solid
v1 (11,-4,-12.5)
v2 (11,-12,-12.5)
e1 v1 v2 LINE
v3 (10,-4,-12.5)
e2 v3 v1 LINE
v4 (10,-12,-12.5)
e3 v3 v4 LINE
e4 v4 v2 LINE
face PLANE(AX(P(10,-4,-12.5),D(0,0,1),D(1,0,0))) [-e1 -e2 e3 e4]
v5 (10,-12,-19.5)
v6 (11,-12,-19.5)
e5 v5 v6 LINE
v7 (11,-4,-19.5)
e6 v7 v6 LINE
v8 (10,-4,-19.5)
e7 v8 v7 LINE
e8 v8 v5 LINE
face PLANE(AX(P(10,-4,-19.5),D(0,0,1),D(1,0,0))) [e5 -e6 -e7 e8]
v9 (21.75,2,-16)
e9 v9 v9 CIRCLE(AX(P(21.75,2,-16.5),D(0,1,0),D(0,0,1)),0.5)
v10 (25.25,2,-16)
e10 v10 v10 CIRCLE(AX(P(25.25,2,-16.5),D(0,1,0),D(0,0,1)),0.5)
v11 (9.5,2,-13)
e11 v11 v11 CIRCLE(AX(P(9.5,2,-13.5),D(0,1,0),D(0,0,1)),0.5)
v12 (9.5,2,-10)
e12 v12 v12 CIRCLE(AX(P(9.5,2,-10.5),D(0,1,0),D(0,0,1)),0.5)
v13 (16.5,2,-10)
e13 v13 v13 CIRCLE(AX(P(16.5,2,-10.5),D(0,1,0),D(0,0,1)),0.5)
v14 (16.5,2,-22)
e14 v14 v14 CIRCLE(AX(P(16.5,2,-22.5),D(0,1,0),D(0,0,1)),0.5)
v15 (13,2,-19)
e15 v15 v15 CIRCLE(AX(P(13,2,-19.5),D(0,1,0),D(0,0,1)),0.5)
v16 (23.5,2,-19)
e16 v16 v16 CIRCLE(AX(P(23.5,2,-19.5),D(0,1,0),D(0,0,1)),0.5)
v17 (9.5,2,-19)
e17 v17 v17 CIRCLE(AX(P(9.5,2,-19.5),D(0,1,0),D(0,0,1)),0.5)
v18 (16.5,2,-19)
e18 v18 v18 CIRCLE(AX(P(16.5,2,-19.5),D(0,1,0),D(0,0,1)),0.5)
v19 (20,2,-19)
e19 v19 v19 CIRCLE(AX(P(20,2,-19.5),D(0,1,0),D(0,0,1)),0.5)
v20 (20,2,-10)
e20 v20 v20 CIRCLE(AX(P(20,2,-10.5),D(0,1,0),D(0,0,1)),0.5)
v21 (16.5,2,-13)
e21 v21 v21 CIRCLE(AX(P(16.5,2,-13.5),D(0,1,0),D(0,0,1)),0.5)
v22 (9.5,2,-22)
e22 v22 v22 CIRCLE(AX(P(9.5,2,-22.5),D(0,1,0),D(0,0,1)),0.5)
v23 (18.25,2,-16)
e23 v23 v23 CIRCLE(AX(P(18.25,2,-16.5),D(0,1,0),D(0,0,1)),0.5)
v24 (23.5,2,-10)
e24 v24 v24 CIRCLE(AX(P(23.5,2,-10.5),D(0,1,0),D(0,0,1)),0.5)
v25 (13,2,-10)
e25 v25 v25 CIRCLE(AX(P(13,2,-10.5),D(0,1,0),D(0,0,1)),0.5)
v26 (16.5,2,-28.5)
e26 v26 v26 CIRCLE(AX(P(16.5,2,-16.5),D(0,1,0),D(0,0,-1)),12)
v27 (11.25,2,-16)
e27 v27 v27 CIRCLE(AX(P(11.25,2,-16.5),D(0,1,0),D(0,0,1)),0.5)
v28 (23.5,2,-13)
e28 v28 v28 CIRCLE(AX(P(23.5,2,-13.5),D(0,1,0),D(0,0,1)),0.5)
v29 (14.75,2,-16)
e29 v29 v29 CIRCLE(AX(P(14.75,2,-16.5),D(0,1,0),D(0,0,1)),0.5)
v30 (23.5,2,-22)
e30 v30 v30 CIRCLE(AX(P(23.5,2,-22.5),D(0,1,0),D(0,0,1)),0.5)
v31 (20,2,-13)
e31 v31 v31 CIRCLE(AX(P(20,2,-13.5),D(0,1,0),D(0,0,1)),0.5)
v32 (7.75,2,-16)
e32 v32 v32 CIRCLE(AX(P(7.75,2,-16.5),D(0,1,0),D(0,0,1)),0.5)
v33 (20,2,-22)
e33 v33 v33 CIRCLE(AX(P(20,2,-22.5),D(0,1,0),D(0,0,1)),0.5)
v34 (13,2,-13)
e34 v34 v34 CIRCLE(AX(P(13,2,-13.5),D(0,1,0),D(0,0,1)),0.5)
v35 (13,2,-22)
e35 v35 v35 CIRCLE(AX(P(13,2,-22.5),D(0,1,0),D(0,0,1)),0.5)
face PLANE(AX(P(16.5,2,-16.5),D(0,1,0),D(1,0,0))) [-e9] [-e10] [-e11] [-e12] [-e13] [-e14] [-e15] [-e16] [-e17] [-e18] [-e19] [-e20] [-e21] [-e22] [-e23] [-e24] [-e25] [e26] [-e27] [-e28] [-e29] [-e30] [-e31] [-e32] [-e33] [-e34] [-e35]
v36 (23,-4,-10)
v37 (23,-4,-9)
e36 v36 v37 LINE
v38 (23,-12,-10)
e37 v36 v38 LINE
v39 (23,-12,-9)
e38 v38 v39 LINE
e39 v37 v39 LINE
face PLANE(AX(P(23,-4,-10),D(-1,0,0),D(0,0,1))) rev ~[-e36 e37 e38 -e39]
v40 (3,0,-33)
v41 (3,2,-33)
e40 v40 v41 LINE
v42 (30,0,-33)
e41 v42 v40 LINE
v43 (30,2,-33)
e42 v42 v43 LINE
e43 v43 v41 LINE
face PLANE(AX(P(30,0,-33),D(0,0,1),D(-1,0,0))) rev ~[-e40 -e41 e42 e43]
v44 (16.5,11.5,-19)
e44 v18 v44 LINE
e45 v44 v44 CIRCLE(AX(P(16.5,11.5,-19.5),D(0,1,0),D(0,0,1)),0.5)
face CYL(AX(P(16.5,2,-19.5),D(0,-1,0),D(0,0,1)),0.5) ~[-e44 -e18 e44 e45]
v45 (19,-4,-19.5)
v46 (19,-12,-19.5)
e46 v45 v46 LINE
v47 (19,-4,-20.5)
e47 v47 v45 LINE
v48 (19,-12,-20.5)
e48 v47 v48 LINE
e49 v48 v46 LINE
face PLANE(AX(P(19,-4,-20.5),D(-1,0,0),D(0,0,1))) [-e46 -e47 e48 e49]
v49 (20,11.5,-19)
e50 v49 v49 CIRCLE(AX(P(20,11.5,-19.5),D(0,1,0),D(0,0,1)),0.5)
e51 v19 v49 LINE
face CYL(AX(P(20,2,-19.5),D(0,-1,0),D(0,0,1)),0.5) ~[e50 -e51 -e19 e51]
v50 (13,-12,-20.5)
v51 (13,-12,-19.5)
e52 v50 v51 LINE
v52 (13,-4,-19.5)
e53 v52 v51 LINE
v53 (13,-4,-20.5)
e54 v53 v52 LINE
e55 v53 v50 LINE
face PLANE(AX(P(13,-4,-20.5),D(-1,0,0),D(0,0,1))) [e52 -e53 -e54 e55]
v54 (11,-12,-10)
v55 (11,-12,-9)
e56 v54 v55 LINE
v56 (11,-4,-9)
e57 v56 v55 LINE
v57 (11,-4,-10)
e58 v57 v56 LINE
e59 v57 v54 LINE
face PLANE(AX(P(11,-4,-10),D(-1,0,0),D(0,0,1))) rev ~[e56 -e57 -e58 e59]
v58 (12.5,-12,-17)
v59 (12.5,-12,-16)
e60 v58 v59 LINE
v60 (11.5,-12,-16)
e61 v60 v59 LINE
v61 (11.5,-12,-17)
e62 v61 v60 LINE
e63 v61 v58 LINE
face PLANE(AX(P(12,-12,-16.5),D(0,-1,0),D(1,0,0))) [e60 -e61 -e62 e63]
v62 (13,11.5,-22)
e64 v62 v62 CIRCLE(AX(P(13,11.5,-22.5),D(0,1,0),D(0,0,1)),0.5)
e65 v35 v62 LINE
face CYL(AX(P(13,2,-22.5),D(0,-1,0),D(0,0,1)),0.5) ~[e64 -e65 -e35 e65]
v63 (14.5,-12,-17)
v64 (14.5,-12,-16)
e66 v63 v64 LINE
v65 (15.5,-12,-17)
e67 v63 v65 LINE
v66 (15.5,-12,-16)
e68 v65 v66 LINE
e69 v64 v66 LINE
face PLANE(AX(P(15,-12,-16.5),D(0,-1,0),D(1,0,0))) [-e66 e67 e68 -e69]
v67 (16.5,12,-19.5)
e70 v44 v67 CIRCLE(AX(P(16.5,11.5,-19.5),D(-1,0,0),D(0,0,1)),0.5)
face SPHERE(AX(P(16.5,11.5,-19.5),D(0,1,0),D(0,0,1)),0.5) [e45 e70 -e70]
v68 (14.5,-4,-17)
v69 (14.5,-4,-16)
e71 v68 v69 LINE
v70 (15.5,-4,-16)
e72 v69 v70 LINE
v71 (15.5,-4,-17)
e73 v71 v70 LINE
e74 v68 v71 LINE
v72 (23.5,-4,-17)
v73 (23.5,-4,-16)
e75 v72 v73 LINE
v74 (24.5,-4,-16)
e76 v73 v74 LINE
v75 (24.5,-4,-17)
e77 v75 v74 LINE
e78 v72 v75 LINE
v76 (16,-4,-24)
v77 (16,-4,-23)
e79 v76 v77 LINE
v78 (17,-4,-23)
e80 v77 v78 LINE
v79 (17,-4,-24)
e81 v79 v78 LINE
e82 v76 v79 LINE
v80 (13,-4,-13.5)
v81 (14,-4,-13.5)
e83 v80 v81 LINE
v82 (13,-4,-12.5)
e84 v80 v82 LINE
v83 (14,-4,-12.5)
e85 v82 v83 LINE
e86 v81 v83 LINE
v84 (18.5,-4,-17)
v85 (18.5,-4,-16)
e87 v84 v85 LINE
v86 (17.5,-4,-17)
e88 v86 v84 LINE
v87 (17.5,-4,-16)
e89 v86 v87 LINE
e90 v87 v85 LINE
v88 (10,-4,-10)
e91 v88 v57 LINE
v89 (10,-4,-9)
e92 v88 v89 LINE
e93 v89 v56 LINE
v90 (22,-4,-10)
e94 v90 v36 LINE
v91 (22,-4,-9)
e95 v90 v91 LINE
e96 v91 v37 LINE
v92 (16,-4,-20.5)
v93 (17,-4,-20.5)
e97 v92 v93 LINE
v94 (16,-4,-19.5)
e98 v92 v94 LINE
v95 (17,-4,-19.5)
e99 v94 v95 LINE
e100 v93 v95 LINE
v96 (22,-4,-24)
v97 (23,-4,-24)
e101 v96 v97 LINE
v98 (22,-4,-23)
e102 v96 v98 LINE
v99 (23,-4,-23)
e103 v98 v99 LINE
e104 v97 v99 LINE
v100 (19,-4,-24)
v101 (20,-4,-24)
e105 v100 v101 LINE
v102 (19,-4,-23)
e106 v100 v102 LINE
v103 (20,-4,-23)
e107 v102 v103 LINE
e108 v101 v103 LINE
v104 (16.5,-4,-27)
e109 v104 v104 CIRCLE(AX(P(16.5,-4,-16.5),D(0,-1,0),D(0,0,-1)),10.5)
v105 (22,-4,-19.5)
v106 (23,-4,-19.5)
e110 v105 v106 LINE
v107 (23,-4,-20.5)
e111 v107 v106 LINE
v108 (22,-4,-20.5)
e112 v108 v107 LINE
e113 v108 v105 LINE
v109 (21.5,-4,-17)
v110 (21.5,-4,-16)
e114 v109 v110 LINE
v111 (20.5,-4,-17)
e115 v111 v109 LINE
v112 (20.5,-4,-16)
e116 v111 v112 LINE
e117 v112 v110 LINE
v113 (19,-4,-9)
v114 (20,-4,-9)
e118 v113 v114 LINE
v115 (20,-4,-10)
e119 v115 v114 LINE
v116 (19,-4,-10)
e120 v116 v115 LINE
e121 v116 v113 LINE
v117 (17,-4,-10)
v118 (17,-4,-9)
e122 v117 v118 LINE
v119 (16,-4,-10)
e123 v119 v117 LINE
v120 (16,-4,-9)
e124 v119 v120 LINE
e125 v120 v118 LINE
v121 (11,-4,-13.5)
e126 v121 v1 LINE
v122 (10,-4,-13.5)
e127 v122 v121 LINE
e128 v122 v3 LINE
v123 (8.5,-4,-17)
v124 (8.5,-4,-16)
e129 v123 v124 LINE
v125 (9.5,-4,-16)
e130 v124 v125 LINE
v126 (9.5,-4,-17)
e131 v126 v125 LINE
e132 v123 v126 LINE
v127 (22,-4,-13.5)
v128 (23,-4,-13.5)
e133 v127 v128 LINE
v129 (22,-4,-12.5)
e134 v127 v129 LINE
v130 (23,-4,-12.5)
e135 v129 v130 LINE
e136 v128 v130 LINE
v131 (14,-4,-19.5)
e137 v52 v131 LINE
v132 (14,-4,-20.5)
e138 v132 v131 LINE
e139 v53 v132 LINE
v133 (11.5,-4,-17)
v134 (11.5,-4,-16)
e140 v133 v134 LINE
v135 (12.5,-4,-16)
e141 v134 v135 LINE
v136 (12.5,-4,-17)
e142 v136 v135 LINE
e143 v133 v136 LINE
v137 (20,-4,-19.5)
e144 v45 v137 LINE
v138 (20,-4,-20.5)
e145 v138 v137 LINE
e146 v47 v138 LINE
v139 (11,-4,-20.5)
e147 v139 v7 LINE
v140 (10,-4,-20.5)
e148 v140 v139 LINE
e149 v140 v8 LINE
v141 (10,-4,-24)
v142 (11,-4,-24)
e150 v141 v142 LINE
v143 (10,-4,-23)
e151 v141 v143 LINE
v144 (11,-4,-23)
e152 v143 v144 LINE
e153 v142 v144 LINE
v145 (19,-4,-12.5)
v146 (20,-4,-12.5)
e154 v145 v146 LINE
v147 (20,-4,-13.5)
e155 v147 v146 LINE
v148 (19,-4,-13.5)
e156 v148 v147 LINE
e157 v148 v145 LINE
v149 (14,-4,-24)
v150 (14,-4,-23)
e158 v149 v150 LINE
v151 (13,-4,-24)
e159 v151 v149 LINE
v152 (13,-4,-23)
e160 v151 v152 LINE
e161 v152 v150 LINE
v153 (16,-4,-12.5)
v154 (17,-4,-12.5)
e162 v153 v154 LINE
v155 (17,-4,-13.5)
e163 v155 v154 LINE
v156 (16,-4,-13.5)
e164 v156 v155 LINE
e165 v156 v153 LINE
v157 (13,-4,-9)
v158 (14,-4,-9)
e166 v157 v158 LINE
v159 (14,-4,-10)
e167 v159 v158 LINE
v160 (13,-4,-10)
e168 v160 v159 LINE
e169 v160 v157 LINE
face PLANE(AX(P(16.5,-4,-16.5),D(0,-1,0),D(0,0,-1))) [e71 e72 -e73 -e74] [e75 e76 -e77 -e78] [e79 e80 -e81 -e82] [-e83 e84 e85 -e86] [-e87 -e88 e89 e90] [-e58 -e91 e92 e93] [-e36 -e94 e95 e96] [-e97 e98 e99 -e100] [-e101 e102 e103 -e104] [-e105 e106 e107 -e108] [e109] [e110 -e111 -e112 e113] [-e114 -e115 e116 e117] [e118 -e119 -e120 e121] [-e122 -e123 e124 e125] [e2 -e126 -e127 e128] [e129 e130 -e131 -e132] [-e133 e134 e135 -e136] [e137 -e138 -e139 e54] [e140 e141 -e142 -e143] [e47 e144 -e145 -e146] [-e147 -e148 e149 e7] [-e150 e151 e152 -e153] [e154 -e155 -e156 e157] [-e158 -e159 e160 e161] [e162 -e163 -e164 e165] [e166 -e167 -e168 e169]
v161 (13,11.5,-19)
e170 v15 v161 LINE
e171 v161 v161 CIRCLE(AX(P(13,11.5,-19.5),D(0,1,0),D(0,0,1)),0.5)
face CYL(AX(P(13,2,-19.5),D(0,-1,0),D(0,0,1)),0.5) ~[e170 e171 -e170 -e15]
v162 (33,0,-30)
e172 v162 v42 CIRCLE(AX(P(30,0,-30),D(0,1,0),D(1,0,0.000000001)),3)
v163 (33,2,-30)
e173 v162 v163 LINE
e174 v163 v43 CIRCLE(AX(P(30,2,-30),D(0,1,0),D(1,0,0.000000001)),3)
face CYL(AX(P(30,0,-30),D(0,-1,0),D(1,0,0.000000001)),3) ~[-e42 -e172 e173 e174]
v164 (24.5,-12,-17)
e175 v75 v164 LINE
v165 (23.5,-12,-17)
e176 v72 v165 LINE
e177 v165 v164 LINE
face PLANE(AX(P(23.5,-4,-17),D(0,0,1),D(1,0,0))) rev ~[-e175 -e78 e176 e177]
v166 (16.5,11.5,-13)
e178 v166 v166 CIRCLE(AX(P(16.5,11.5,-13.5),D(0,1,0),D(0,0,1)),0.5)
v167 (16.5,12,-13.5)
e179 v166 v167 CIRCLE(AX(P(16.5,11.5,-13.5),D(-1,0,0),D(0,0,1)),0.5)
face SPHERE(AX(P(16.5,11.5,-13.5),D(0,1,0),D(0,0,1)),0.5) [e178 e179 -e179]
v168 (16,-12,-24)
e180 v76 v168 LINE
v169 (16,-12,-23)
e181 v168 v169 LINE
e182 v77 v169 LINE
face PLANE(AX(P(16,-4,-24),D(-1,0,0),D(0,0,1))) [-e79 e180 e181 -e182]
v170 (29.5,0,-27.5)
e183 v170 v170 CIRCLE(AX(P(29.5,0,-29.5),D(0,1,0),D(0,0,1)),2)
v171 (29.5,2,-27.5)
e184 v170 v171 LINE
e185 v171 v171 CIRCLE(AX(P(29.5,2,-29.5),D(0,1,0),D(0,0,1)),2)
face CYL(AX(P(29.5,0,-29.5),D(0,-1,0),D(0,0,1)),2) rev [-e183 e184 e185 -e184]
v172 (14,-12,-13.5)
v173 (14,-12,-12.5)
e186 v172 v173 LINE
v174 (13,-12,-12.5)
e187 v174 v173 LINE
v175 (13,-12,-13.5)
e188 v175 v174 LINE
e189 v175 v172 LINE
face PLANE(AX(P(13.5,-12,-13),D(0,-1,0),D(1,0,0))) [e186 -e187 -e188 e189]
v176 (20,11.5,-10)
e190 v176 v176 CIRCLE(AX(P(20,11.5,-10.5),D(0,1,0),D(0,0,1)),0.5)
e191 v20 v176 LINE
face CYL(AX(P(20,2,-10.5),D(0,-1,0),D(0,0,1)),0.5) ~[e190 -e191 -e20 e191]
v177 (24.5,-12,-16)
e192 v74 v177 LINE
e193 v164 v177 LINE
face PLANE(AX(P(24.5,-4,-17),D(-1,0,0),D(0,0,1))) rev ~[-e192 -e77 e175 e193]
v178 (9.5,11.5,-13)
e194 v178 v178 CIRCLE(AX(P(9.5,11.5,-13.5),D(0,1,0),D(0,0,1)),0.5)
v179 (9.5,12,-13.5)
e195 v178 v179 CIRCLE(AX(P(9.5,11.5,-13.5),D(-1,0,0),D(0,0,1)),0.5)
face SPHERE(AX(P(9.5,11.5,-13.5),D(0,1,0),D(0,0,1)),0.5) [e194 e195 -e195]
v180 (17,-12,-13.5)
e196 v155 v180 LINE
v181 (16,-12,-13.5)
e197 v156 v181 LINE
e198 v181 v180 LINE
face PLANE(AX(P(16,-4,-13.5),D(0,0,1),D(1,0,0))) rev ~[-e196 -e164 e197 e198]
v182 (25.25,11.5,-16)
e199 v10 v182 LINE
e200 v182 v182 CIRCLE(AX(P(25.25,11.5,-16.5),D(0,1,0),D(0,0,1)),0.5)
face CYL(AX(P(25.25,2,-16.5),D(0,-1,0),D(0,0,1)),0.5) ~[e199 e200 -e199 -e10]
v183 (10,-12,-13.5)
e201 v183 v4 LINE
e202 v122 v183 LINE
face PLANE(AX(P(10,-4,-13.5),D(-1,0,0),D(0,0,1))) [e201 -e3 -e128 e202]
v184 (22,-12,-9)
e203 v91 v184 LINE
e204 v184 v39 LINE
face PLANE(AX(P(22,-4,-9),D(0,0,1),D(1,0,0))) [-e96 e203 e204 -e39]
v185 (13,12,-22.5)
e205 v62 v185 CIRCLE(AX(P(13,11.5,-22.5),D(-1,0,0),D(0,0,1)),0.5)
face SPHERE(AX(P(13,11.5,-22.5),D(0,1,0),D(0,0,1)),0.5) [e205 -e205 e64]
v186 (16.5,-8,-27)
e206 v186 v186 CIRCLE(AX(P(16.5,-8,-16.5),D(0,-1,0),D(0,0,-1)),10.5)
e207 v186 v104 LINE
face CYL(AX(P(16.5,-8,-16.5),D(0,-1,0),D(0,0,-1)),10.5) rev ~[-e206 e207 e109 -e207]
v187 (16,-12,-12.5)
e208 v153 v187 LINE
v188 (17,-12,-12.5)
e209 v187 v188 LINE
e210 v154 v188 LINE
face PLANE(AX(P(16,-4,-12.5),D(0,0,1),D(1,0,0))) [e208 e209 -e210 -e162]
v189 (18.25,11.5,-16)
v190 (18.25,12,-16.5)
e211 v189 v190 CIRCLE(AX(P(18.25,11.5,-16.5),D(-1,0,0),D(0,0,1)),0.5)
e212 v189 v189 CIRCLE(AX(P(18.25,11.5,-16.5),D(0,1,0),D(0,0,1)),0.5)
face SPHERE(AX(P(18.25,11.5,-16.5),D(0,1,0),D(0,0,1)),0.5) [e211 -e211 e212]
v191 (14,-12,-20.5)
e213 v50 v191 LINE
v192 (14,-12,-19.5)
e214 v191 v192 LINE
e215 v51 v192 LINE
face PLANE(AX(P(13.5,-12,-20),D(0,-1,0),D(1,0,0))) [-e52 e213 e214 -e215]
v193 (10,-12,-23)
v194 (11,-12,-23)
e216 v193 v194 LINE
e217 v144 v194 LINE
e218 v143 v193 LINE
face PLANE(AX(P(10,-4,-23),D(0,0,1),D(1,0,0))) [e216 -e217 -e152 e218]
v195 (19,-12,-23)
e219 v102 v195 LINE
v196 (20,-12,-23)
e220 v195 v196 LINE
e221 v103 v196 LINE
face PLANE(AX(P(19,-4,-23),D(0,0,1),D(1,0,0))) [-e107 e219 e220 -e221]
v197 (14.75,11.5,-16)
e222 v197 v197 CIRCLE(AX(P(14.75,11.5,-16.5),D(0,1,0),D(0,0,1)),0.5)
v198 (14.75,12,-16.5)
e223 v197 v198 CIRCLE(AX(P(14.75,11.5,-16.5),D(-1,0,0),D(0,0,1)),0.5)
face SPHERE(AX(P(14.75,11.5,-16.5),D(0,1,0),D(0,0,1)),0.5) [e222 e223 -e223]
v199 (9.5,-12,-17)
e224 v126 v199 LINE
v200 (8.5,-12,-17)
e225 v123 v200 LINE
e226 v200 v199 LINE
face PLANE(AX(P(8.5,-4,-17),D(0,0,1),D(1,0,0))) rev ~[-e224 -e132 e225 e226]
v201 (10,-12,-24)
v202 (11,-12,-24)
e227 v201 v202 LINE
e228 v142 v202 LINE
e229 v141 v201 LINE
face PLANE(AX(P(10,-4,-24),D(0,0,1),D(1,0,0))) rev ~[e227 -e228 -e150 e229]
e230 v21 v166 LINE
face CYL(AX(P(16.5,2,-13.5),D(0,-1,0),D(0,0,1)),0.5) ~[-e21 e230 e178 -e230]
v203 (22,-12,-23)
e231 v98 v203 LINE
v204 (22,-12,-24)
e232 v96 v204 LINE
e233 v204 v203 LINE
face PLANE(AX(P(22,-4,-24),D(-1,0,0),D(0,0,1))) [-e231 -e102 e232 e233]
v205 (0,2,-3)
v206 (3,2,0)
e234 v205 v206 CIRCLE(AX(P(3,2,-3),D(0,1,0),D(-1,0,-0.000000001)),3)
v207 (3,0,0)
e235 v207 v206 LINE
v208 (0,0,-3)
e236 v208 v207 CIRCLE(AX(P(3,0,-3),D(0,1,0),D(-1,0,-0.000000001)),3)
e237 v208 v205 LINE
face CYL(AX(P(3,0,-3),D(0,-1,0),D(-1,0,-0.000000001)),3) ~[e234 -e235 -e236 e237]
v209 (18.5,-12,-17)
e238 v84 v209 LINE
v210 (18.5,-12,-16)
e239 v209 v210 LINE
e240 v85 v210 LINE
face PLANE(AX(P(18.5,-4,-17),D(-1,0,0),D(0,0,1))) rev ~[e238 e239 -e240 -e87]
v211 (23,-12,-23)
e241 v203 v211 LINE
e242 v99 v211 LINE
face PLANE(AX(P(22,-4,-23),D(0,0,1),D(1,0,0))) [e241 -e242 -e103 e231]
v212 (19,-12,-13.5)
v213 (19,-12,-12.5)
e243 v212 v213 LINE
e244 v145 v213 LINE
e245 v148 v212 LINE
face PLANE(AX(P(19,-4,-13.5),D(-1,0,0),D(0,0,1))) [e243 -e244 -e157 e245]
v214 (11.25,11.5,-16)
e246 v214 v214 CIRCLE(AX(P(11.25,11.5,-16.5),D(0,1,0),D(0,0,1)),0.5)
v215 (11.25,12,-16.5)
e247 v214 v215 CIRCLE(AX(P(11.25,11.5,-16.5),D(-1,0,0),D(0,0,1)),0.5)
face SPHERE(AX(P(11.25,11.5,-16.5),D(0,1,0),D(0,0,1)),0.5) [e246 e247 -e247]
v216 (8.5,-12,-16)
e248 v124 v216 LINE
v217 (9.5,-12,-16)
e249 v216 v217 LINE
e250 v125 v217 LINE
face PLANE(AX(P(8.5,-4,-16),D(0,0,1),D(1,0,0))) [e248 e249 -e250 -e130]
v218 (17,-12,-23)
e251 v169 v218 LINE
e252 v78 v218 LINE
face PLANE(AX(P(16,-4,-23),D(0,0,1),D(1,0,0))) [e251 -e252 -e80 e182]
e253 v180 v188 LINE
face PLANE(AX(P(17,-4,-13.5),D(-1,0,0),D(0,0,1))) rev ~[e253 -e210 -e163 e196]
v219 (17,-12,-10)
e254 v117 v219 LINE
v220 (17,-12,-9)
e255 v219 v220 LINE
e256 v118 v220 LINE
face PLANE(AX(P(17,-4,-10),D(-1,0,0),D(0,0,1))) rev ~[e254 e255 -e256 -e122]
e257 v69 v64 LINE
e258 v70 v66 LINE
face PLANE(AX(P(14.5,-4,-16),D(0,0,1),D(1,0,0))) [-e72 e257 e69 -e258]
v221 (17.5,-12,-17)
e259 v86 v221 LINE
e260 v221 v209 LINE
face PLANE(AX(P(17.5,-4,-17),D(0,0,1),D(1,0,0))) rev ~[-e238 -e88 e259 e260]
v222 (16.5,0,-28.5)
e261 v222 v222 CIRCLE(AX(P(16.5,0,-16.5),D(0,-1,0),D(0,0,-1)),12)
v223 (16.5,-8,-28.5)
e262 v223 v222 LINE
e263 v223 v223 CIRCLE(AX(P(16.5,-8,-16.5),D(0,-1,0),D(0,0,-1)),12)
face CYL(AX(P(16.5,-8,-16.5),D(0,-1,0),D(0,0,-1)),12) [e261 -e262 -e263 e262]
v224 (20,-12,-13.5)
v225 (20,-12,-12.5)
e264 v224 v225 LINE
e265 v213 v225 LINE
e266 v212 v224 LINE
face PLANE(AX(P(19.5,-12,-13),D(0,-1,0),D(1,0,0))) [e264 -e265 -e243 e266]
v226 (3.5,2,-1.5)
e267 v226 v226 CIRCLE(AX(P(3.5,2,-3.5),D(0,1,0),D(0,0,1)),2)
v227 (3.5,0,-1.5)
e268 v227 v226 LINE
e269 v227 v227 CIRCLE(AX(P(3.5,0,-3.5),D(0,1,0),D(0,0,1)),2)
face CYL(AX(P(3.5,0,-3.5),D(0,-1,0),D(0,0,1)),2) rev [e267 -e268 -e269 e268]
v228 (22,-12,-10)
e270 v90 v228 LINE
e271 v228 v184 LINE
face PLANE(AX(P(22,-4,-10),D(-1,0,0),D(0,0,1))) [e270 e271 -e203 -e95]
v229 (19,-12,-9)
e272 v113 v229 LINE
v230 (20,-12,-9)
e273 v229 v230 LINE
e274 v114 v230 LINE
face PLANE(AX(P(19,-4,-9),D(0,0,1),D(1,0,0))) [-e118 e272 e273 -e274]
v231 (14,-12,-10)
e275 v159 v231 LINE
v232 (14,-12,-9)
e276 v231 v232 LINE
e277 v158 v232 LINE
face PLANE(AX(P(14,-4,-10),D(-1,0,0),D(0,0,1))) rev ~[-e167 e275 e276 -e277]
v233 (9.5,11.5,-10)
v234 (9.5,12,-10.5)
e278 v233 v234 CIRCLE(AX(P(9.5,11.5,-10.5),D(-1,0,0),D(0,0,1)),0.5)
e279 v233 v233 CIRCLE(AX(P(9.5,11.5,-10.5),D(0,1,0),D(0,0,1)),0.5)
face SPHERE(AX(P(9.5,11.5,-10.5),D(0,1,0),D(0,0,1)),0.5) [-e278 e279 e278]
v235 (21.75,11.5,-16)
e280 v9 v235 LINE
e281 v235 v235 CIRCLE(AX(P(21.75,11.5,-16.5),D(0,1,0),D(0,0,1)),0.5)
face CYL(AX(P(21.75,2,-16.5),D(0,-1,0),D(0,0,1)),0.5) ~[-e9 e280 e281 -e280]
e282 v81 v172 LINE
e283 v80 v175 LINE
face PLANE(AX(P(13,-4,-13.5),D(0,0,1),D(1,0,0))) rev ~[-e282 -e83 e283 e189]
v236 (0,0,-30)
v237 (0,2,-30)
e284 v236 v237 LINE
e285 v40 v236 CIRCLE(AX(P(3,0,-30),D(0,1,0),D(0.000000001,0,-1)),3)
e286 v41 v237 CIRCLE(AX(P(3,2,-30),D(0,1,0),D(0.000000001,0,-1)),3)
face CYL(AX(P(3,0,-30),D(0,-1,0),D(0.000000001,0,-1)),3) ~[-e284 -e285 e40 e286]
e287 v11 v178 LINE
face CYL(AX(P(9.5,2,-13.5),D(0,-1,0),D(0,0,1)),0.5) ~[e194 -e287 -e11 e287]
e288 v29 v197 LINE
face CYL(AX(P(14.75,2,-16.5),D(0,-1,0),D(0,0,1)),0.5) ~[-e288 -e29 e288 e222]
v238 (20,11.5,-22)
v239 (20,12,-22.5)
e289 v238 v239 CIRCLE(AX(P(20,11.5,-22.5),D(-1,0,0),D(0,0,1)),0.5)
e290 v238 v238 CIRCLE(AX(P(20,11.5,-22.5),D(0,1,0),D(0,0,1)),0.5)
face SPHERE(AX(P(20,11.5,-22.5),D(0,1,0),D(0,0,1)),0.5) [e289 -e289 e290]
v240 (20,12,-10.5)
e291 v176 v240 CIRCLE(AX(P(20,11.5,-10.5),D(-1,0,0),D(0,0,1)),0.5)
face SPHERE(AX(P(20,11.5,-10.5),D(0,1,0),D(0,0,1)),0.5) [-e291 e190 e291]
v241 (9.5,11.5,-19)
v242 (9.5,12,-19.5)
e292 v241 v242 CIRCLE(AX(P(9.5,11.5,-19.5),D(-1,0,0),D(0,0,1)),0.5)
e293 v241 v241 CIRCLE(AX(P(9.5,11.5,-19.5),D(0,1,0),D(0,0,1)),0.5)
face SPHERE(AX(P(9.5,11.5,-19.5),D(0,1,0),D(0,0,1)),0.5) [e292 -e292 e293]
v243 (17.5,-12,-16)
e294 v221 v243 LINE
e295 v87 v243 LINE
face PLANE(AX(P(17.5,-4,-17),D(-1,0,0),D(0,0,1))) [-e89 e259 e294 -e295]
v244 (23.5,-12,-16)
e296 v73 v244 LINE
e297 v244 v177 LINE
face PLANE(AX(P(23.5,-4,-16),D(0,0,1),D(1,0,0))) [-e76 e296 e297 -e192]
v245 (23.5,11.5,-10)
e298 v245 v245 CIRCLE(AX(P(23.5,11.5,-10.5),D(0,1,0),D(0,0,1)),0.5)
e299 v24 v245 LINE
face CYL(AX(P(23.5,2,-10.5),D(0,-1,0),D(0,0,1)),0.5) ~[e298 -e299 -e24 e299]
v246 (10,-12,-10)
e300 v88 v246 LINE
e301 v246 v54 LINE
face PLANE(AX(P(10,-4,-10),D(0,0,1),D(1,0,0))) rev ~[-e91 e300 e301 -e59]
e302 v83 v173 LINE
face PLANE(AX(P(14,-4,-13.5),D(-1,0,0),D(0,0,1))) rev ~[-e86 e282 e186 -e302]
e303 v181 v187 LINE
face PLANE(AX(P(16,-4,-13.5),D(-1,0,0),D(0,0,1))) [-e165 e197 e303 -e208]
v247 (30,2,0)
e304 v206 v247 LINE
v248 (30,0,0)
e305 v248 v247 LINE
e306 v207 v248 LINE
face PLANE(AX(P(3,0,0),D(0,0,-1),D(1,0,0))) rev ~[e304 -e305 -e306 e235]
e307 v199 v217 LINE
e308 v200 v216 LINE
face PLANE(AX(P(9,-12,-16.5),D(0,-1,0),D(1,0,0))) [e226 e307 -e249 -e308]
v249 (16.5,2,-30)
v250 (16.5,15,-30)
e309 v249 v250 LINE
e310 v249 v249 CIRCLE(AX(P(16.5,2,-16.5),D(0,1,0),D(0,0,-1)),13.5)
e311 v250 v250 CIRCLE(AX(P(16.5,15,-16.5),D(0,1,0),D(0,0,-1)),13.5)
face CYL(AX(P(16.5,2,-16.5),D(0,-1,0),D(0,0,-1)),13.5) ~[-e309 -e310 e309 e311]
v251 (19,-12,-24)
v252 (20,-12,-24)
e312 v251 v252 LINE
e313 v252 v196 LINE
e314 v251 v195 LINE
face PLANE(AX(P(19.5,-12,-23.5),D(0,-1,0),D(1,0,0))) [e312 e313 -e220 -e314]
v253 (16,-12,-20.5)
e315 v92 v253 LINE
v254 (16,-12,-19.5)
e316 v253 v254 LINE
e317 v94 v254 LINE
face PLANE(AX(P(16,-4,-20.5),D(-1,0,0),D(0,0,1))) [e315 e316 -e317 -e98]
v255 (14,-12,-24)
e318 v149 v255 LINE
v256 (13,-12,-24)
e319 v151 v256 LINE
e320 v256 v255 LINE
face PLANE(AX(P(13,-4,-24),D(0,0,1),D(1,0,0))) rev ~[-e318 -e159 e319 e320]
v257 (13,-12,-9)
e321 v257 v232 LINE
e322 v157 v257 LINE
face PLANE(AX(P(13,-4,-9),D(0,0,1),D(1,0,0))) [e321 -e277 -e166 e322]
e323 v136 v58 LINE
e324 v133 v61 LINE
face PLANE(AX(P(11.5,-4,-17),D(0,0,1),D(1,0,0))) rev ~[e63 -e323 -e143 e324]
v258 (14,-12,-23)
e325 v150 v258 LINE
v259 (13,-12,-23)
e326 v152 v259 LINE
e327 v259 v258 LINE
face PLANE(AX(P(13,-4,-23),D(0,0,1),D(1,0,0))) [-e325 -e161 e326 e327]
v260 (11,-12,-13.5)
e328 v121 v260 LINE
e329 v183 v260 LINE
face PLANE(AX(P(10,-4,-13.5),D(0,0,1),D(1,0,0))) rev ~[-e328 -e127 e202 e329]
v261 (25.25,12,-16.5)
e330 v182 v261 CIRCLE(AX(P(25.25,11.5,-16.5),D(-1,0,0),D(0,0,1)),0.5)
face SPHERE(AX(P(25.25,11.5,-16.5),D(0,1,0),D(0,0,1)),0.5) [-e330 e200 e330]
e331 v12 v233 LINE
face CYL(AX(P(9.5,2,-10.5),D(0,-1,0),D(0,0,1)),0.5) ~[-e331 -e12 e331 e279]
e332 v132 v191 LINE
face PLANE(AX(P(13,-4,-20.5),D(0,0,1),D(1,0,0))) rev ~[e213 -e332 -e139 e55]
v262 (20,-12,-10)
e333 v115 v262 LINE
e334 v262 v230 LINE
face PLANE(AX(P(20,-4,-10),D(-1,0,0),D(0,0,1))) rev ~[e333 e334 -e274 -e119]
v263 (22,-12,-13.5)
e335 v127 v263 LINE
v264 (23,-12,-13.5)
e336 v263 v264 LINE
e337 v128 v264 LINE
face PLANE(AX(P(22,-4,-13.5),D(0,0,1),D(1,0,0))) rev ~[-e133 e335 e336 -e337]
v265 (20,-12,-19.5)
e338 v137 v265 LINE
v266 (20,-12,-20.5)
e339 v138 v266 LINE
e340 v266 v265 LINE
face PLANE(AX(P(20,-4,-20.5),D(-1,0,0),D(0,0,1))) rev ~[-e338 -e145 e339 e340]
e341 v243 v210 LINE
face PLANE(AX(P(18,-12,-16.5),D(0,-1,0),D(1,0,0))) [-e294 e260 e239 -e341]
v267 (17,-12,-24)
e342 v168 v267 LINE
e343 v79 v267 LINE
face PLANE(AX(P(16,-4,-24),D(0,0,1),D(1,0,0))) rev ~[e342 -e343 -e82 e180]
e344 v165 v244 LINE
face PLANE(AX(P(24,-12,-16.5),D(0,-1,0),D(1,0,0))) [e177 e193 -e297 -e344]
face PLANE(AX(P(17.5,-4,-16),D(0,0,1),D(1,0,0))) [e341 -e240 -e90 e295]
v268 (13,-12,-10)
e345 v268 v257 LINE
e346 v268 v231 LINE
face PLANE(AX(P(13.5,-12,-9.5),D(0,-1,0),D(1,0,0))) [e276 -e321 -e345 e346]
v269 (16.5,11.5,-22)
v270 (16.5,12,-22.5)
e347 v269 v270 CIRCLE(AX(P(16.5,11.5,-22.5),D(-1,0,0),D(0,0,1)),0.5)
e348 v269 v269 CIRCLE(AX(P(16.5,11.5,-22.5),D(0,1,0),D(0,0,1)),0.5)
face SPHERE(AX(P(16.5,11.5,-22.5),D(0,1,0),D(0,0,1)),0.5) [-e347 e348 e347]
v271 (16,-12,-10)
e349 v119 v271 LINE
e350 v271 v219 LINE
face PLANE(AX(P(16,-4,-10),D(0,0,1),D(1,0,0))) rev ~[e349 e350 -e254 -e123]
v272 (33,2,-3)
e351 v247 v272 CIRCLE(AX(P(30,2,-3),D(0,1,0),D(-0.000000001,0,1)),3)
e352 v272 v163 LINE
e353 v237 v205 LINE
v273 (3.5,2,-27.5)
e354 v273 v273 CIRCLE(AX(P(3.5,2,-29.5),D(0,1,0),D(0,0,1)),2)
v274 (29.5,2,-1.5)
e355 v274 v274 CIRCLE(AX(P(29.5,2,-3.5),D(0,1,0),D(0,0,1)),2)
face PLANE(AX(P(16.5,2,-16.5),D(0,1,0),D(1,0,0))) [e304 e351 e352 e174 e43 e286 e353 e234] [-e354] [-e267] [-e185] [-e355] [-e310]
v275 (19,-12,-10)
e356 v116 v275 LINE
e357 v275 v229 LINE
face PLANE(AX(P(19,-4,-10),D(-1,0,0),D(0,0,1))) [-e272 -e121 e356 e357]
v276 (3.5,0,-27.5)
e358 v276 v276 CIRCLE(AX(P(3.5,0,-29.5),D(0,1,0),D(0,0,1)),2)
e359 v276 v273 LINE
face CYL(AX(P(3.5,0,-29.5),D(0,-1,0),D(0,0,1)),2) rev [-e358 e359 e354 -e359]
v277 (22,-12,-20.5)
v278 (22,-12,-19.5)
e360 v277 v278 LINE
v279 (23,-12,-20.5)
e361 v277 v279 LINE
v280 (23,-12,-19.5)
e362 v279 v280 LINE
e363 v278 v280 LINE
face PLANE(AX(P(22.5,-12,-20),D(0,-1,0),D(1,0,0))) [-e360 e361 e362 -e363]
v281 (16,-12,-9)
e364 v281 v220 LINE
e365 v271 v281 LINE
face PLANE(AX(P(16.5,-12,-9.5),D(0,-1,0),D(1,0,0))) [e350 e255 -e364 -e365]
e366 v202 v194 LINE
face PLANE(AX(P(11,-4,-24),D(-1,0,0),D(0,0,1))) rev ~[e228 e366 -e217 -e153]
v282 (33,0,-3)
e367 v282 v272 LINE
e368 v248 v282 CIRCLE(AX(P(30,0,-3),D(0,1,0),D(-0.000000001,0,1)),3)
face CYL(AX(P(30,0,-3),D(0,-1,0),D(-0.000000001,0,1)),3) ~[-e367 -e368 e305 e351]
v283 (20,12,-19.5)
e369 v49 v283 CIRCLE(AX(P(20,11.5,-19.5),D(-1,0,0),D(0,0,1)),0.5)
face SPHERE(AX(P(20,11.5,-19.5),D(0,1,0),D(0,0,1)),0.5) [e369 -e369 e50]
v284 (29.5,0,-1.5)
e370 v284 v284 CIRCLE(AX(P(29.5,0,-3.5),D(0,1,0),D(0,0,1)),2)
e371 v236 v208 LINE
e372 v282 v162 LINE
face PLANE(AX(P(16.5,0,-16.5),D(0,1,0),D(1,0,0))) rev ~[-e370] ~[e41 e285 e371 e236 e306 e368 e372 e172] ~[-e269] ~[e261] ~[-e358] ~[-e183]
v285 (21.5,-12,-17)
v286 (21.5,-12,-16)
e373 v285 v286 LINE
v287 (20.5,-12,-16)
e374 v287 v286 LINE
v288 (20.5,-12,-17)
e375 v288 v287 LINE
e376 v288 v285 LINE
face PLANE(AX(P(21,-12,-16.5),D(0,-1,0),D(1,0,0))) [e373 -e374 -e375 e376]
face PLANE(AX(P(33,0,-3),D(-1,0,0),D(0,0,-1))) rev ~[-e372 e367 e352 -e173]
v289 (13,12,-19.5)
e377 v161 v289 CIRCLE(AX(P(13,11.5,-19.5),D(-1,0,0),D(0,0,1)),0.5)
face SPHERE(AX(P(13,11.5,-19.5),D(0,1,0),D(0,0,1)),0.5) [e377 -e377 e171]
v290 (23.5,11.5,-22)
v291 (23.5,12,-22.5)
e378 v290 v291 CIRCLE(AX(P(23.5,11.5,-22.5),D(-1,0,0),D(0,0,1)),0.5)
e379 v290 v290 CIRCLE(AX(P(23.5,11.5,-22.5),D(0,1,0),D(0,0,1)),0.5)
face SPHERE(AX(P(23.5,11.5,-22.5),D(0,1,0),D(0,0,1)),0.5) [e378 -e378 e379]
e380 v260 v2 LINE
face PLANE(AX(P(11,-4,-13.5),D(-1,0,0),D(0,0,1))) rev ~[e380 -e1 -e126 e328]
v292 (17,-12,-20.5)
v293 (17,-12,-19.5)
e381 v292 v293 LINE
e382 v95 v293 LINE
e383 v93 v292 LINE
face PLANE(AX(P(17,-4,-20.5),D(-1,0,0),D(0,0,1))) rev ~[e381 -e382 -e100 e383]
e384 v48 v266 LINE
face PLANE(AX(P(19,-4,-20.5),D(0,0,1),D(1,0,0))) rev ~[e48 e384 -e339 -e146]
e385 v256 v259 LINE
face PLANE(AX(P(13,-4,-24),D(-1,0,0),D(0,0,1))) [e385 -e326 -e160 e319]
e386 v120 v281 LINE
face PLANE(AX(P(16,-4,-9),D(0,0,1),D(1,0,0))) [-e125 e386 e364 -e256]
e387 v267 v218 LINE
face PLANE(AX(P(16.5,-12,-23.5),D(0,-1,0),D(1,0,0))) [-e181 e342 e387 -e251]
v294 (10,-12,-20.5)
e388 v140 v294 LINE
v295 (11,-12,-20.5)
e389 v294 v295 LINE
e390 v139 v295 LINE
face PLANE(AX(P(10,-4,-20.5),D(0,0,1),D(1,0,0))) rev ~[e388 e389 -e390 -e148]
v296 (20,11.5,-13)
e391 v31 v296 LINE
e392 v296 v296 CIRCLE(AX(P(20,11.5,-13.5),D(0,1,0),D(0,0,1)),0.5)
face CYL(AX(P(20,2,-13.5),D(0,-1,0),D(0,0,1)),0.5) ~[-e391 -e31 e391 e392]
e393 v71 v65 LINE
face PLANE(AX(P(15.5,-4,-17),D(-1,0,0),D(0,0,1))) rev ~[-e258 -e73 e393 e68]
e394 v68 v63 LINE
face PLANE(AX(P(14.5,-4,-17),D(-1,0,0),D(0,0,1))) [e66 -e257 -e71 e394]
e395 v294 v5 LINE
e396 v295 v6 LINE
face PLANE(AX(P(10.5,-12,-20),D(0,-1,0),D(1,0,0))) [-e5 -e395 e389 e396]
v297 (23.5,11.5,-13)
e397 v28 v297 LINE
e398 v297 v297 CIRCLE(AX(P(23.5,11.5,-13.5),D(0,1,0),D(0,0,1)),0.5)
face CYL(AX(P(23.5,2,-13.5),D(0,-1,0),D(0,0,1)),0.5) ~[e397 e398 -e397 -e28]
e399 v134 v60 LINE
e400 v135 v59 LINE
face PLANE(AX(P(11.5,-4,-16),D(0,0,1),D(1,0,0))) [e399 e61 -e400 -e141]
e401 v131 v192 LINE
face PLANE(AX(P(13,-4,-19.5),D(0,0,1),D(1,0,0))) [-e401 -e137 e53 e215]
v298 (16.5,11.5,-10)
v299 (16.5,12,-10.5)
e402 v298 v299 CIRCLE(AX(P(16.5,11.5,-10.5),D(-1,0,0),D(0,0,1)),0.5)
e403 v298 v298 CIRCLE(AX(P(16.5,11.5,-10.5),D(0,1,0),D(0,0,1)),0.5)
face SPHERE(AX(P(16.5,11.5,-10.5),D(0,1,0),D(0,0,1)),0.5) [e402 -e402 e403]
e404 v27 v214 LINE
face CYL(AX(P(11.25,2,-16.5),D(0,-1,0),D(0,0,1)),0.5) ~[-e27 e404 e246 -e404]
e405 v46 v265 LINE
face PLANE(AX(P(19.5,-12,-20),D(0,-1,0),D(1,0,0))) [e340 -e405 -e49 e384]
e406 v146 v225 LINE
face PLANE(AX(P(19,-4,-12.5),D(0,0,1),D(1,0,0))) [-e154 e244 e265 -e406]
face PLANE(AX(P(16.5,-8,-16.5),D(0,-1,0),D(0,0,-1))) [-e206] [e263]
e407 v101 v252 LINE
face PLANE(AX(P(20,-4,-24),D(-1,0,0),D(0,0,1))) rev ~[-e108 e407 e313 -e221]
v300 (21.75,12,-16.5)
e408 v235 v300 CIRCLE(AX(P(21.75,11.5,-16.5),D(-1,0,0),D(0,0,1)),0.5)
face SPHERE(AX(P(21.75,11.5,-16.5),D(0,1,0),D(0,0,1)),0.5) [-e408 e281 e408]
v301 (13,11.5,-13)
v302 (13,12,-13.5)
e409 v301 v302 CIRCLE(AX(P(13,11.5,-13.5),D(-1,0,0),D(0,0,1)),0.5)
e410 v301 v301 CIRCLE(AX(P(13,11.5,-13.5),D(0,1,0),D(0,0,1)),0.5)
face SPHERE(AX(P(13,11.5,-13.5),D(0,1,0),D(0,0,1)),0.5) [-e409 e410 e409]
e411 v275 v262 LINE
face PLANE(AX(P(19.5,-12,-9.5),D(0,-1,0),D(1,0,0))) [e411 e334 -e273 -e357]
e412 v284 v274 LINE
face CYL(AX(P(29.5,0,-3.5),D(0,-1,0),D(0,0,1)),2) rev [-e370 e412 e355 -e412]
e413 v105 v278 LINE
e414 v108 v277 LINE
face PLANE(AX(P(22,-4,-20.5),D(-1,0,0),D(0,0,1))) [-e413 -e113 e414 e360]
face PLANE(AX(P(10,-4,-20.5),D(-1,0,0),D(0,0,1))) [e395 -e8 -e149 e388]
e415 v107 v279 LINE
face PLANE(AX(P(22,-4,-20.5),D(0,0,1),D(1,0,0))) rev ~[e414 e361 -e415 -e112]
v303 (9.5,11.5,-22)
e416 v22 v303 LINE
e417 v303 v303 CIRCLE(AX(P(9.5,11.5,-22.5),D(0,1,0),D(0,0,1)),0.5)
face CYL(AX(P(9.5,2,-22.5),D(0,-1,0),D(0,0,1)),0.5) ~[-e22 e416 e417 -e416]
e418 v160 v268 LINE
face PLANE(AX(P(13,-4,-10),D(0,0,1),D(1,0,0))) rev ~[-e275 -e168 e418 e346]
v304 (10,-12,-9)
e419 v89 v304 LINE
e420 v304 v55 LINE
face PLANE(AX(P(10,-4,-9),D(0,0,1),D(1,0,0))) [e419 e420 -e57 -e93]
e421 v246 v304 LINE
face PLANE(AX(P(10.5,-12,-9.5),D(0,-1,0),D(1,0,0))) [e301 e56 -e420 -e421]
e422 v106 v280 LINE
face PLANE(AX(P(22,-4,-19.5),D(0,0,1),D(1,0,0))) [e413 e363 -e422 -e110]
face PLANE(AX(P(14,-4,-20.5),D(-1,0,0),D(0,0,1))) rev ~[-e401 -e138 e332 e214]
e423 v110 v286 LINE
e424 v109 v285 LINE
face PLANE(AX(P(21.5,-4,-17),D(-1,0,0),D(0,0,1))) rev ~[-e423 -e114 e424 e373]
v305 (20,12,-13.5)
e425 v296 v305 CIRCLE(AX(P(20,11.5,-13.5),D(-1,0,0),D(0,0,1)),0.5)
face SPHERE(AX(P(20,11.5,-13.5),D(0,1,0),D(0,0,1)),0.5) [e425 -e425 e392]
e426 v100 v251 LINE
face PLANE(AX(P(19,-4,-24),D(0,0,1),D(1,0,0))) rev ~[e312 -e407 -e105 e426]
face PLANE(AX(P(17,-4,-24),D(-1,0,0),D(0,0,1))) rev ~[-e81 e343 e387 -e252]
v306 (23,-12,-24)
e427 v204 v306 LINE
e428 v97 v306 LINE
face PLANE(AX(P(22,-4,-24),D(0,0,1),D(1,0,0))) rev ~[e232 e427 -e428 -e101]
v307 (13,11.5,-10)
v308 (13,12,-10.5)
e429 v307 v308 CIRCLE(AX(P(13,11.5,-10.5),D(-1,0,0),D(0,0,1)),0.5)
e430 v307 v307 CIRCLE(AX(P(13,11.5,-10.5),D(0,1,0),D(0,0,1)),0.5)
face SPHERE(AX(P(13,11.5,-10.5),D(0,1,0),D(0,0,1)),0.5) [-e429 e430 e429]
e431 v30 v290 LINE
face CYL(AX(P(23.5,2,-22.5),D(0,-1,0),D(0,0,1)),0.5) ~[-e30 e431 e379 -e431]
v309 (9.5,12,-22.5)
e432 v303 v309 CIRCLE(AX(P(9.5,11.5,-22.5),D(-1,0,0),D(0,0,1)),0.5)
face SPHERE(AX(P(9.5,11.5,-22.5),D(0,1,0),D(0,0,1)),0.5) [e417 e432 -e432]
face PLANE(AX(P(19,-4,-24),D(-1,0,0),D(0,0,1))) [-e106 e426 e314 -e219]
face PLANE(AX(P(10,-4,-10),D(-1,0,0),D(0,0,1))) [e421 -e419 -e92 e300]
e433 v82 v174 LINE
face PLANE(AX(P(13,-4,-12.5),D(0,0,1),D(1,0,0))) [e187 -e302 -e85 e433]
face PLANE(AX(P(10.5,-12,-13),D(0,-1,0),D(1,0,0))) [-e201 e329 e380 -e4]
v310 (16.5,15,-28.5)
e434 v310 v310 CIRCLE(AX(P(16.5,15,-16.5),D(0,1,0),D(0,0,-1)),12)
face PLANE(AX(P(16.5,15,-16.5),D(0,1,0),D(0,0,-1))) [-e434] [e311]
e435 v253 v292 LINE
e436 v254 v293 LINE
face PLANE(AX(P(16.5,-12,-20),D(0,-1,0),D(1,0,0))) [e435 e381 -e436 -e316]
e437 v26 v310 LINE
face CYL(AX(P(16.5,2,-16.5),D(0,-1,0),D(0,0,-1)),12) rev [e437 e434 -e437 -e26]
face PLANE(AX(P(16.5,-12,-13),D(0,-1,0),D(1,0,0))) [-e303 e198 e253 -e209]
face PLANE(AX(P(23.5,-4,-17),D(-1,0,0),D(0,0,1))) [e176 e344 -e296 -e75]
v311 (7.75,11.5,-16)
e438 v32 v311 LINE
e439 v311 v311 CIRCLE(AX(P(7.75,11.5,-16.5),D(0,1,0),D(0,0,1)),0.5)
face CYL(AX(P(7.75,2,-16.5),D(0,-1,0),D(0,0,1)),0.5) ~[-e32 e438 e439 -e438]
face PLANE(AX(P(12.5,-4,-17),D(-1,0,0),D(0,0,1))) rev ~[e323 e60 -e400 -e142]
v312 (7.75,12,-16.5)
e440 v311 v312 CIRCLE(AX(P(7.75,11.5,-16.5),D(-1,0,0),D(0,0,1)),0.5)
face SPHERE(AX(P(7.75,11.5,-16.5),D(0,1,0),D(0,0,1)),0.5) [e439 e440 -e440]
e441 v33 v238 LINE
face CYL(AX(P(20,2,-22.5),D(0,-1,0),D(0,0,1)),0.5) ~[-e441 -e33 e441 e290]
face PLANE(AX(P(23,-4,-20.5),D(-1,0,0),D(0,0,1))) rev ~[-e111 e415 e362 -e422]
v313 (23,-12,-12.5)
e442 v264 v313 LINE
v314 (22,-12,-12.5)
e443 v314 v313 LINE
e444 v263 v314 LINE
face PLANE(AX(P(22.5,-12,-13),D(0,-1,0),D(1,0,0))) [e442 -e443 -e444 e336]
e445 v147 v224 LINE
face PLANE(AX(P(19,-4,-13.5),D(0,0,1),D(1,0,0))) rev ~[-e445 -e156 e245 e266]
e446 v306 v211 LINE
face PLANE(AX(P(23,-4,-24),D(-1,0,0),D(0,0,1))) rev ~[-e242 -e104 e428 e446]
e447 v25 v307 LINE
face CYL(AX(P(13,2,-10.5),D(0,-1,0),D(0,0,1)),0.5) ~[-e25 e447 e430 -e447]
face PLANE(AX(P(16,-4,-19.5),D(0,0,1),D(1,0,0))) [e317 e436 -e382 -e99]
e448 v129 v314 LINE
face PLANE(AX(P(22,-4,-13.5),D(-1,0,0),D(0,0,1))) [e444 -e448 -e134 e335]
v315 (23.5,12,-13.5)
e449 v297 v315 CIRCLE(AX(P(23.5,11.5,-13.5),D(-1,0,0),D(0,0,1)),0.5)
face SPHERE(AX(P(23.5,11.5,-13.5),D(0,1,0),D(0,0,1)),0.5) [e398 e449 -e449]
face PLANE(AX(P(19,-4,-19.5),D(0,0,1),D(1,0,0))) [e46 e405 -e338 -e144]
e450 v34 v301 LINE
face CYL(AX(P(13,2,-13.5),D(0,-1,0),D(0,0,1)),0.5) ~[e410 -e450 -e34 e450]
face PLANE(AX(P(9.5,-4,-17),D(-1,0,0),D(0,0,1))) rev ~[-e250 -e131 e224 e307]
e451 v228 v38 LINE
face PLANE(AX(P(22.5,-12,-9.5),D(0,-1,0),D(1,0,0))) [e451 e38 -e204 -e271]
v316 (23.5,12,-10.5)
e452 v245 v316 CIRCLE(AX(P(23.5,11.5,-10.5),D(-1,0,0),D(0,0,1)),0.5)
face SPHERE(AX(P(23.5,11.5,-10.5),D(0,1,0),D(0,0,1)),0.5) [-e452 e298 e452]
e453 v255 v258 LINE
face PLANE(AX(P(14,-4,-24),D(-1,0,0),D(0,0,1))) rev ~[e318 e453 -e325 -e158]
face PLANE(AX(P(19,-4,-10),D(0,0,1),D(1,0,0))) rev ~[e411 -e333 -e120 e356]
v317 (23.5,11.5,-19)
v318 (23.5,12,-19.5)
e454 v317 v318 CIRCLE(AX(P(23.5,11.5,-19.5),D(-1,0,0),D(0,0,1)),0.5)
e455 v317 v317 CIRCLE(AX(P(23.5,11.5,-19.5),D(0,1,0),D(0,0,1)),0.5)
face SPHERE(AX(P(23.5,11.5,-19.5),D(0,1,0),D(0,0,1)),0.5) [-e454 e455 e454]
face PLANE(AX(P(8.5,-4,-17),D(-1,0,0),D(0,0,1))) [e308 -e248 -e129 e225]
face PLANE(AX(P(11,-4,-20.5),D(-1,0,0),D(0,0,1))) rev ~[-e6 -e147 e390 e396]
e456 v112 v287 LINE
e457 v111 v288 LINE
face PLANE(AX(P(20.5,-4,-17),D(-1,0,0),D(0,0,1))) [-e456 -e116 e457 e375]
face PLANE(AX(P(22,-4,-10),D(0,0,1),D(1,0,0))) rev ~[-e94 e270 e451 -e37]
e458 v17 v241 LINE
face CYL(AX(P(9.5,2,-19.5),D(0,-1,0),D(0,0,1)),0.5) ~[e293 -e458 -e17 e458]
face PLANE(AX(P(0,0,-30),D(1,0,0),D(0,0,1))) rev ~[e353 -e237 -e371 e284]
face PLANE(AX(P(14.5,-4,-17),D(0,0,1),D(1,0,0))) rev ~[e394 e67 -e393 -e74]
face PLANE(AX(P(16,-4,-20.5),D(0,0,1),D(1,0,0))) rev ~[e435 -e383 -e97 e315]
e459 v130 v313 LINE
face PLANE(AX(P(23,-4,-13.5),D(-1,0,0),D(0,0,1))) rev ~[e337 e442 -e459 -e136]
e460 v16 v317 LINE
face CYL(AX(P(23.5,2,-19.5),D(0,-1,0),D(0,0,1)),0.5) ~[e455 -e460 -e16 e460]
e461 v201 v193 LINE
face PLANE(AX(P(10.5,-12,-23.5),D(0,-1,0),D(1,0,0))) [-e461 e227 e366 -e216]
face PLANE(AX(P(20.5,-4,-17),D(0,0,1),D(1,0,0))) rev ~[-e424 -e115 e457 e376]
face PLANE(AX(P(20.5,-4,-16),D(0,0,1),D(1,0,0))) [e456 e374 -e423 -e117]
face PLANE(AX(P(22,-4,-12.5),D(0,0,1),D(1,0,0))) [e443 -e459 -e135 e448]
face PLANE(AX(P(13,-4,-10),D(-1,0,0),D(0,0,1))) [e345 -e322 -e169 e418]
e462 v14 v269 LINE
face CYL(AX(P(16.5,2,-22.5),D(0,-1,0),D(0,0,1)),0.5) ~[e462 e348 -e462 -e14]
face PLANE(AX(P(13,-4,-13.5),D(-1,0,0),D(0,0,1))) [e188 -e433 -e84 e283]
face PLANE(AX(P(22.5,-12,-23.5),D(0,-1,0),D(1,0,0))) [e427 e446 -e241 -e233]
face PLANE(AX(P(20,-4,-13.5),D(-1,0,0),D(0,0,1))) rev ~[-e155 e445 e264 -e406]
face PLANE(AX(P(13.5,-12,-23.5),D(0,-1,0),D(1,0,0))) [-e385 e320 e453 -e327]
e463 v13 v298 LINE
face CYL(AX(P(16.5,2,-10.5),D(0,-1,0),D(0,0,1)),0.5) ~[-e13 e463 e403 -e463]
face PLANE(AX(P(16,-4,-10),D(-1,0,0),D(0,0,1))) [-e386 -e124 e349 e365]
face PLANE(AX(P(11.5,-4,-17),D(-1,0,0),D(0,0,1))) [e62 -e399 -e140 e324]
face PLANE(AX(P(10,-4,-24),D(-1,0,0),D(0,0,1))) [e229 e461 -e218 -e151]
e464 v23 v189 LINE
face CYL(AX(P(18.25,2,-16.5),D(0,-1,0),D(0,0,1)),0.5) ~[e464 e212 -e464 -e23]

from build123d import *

# Parameters (mm, degrees)
SKETCH_1_R      = 2
EXTRUDE_1_DEPTH = 2
SKETCH_2_R      = 13.5
SKETCH_2_R_2    = 12
EXTRUDE_2_DEPTH = 13
SKETCH_3_R      = 0.5
EXTRUDE_3_DEPTH = 10
EXTRUDE_START   = 8
SKETCH_4_R      = 12
SKETCH_4_R_2    = 10.5
EXTRUDE_4_DEPTH = 8
EXTRUDE_START_2 = 4
SKETCH_5_R      = 10.5
EXTRUDE_5_DEPTH = 4
SKETCH_6_W      = 1
SKETCH_6_H      = 1
EXTRUDE_6_DEPTH = 8
FILLET_3_R      = 0.5


with BuildPart() as part:
    # Эскиз1 → Бобышка-Вытянуть1 (new body)
    with BuildSketch(Plane(origin=(0, 0, 0), x_dir=(1, 0, 0), z_dir=(0, 1, 0))):
        with BuildLine():
            Line((3, 0), (30, 0))
            ThreePointArc((30, 0), (32.121320344, 0.878679656), (33, 3))
            Line((33, 3), (33, 30))
            ThreePointArc((33, 30), (32.121320344, 32.121320344), (30, 33))
            Line((30, 33), (3, 33))
            ThreePointArc((3, 33), (0.878679656, 32.121320344), (0, 30))
            Line((0, 30), (0, 3))
            ThreePointArc((0, 3), (0.878679656, 0.878679656), (3, 0))
        make_face()
        with Locations(Location((3.5, 29.5, 0), (0, 0, 270))):
            Circle(SKETCH_1_R, mode=Mode.SUBTRACT)
        with Locations(Location((29.5, 29.5, 0), (0, 0, 270))):
            Circle(SKETCH_1_R, mode=Mode.SUBTRACT)
        with Locations(Location((3.5, 3.5, 0), (0, 0, 270))):
            Circle(SKETCH_1_R, mode=Mode.SUBTRACT)
        with Locations(Location((29.5, 3.5, 0), (0, 0, 270))):
            Circle(SKETCH_1_R, mode=Mode.SUBTRACT)
    extrude(amount=EXTRUDE_1_DEPTH)

    # Эскиз2 → Бобышка-Вытянуть2 (add)
    with BuildSketch(Plane(origin=(0, 2, 0), x_dir=(1, 0, 0), z_dir=(0, 1, 0))):
        with Locations(Location((16.5, 16.5, 0), (0, 0, 90))):
            Circle(SKETCH_2_R)
        with Locations(Location((16.5, 16.5, 0), (0, 0, 90))):
            Circle(SKETCH_2_R_2, mode=Mode.SUBTRACT)
    extrude(amount=EXTRUDE_2_DEPTH)

    # Эскиз3 → Бобышка-Вытянуть3 (add)
    with BuildSketch(Plane(origin=(0, 2, 0), x_dir=(1, 0, 0), z_dir=(0, 1, 0))):
        with Locations(Location((7.75, 16.5, 0), (0, 0, 270))):
            Circle(SKETCH_3_R)
        with Locations(Location((16.5, 19.5, 0), (0, 0, 270))):
            Circle(SKETCH_3_R)
        with Locations(Location((16.5, 22.5, 0), (0, 0, 270))):
            Circle(SKETCH_3_R)
        with Locations(Location((16.5, 13.5, 0), (0, 0, 270))):
            Circle(SKETCH_3_R)
        with Locations(Location((16.5, 10.5, 0), (0, 0, 270))):
            Circle(SKETCH_3_R)
        with Locations(Location((20, 10.5, 0), (0, 0, 270))):
            Circle(SKETCH_3_R)
        with Locations(Location((20, 13.5, 0), (0, 0, 270))):
            Circle(SKETCH_3_R)
        with Locations(Location((18.25, 16.5, 0), (0, 0, 270))):
            Circle(SKETCH_3_R)
        with Locations(Location((20, 19.5, 0), (0, 0, 270))):
            Circle(SKETCH_3_R)
        with Locations(Location((20, 22.5, 0), (0, 0, 270))):
            Circle(SKETCH_3_R)
        with Locations(Location((23.5, 10.5, 0), (0, 0, 270))):
            Circle(SKETCH_3_R)
        with Locations(Location((23.5, 13.5, 0), (0, 0, 270))):
            Circle(SKETCH_3_R)
        with Locations(Location((21.75, 16.5, 0), (0, 0, 270))):
            Circle(SKETCH_3_R)
        with Locations(Location((23.5, 19.5, 0), (0, 0, 270))):
            Circle(SKETCH_3_R)
        with Locations(Location((23.5, 22.5, 0), (0, 0, 270))):
            Circle(SKETCH_3_R)
        with Locations(Location((13, 10.5, 0), (0, 0, 270))):
            Circle(SKETCH_3_R)
        with Locations(Location((13, 13.5, 0), (0, 0, 270))):
            Circle(SKETCH_3_R)
        with Locations(Location((14.75, 16.5, 0), (0, 0, 270))):
            Circle(SKETCH_3_R)
        with Locations(Location((13, 19.5, 0), (0, 0, 270))):
            Circle(SKETCH_3_R)
        with Locations(Location((13, 22.5, 0), (0, 0, 270))):
            Circle(SKETCH_3_R)
        with Locations(Location((9.5, 10.5, 0), (0, 0, 270))):
            Circle(SKETCH_3_R)
        with Locations(Location((9.5, 13.5, 0), (0, 0, 270))):
            Circle(SKETCH_3_R)
        with Locations(Location((11.25, 16.5, 0), (0, 0, 270))):
            Circle(SKETCH_3_R)
        with Locations(Location((9.5, 19.5, 0), (0, 0, 270))):
            Circle(SKETCH_3_R)
        with Locations(Location((9.5, 22.5, 0), (0, 0, 270))):
            Circle(SKETCH_3_R)
        with Locations(Location((25.25, 16.5, 0), (0, 0, 270))):
            Circle(SKETCH_3_R)
    extrude(amount=EXTRUDE_3_DEPTH)

    # Эскиз4 → Бобышка-Вытянуть4 (add)
    with BuildSketch(Plane.XZ.offset(EXTRUDE_START)):
        with Locations(Location((16.5, -16.5, 0), (0, 0, 270))):
            Circle(SKETCH_4_R)
        with Locations(Location((16.5, -16.5, 0), (0, 0, 270))):
            Circle(SKETCH_4_R_2, mode=Mode.SUBTRACT)
    extrude(amount=-EXTRUDE_4_DEPTH)

    # Эскиз5 → Бобышка-Вытянуть5 (add)
    with BuildSketch(Plane.XZ.offset(EXTRUDE_START_2)):
        with Locations(Location((16.5, -16.5, 0), (0, 0, 270))):
            Circle(SKETCH_5_R)
    extrude(amount=-EXTRUDE_5_DEPTH)

    # Эскиз6 → Бобышка-Вытянуть6 (add)
    with BuildSketch(Plane.XZ.offset(4)):
        with Locations((19.5, -9.5)):
            Rectangle(SKETCH_6_W, SKETCH_6_H)
        with Locations((16.5, -13)):
            Rectangle(SKETCH_6_W, SKETCH_6_H)
        with Locations((16.5, -9.5)):
            Rectangle(SKETCH_6_W, SKETCH_6_H)
        with Locations((16.5, -20)):
            Rectangle(SKETCH_6_W, SKETCH_6_H)
        with Locations((16.5, -23.5)):
            Rectangle(SKETCH_6_W, SKETCH_6_H)
        with Locations((19.5, -13)):
            Rectangle(SKETCH_6_W, SKETCH_6_H)
        with Locations((18, -16.5)):
            Rectangle(SKETCH_6_W, SKETCH_6_H)
        with Locations((19.5, -20)):
            Rectangle(SKETCH_6_W, SKETCH_6_H)
        with Locations((19.5, -23.5)):
            Rectangle(SKETCH_6_W, SKETCH_6_H)
        with Locations((22.5, -9.5)):
            Rectangle(SKETCH_6_W, SKETCH_6_H)
        with Locations((22.5, -13)):
            Rectangle(SKETCH_6_W, SKETCH_6_H)
        with Locations((21, -16.5)):
            Rectangle(SKETCH_6_W, SKETCH_6_H)
        with Locations((22.5, -20)):
            Rectangle(SKETCH_6_W, SKETCH_6_H)
        with Locations((22.5, -23.5)):
            Rectangle(SKETCH_6_W, SKETCH_6_H)
        with Locations((13.5, -9.5)):
            Rectangle(SKETCH_6_W, SKETCH_6_H)
        with Locations((13.5, -13)):
            Rectangle(SKETCH_6_W, SKETCH_6_H)
        with Locations((15, -16.5)):
            Rectangle(SKETCH_6_W, SKETCH_6_H)
        with Locations((13.5, -20)):
            Rectangle(SKETCH_6_W, SKETCH_6_H)
        with Locations((13.5, -23.5)):
            Rectangle(SKETCH_6_W, SKETCH_6_H)
        with Locations((10.5, -9.5)):
            Rectangle(SKETCH_6_W, SKETCH_6_H)
        with Locations((10.5, -13)):
            Rectangle(SKETCH_6_W, SKETCH_6_H)
        with Locations((12, -16.5)):
            Rectangle(SKETCH_6_W, SKETCH_6_H)
        with Locations((10.5, -20)):
            Rectangle(SKETCH_6_W, SKETCH_6_H)
        with Locations((10.5, -23.5)):
            Rectangle(SKETCH_6_W, SKETCH_6_H)
        with Locations((9, -16.5)):
            Rectangle(SKETCH_6_W, SKETCH_6_H)
        with Locations((24, -16.5)):
            Rectangle(SKETCH_6_W, SKETCH_6_H)
    extrude(amount=EXTRUDE_6_DEPTH)

    # Скругление3
    fillet_3_edges = [part.edges().sort_by_distance(p)[0] for p in [
        (13, 12, -20),
        (13, 12, -23),
        (13, 12, -14),
        (13, 12, -11),
        (11.25, 12, -17),
        (9.5, 12, -20),
        (9.5, 12, -23),
        (9.5, 12, -14),
        (9.5, 12, -11),
        (7.75, 12, -17),
        (16.5, 12, -20),
        (16.5, 12, -23),
        (16.5, 12, -14),
        (16.5, 12, -11),
        (18.25, 12, -17),
        (20, 12, -20),
        (20, 12, -23),
        (20, 12, -14),
        (20, 12, -11),
        (21.75, 12, -17),
        (23.5, 12, -20),
        (23.5, 12, -23),
        (23.5, 12, -14),
        (23.5, 12, -11),
        (25.25, 12, -17),
        (14.75, 12, -17),
    ]]
    fillet(fillet_3_edges, radius=FILLET_3_R)


solid = part.part
